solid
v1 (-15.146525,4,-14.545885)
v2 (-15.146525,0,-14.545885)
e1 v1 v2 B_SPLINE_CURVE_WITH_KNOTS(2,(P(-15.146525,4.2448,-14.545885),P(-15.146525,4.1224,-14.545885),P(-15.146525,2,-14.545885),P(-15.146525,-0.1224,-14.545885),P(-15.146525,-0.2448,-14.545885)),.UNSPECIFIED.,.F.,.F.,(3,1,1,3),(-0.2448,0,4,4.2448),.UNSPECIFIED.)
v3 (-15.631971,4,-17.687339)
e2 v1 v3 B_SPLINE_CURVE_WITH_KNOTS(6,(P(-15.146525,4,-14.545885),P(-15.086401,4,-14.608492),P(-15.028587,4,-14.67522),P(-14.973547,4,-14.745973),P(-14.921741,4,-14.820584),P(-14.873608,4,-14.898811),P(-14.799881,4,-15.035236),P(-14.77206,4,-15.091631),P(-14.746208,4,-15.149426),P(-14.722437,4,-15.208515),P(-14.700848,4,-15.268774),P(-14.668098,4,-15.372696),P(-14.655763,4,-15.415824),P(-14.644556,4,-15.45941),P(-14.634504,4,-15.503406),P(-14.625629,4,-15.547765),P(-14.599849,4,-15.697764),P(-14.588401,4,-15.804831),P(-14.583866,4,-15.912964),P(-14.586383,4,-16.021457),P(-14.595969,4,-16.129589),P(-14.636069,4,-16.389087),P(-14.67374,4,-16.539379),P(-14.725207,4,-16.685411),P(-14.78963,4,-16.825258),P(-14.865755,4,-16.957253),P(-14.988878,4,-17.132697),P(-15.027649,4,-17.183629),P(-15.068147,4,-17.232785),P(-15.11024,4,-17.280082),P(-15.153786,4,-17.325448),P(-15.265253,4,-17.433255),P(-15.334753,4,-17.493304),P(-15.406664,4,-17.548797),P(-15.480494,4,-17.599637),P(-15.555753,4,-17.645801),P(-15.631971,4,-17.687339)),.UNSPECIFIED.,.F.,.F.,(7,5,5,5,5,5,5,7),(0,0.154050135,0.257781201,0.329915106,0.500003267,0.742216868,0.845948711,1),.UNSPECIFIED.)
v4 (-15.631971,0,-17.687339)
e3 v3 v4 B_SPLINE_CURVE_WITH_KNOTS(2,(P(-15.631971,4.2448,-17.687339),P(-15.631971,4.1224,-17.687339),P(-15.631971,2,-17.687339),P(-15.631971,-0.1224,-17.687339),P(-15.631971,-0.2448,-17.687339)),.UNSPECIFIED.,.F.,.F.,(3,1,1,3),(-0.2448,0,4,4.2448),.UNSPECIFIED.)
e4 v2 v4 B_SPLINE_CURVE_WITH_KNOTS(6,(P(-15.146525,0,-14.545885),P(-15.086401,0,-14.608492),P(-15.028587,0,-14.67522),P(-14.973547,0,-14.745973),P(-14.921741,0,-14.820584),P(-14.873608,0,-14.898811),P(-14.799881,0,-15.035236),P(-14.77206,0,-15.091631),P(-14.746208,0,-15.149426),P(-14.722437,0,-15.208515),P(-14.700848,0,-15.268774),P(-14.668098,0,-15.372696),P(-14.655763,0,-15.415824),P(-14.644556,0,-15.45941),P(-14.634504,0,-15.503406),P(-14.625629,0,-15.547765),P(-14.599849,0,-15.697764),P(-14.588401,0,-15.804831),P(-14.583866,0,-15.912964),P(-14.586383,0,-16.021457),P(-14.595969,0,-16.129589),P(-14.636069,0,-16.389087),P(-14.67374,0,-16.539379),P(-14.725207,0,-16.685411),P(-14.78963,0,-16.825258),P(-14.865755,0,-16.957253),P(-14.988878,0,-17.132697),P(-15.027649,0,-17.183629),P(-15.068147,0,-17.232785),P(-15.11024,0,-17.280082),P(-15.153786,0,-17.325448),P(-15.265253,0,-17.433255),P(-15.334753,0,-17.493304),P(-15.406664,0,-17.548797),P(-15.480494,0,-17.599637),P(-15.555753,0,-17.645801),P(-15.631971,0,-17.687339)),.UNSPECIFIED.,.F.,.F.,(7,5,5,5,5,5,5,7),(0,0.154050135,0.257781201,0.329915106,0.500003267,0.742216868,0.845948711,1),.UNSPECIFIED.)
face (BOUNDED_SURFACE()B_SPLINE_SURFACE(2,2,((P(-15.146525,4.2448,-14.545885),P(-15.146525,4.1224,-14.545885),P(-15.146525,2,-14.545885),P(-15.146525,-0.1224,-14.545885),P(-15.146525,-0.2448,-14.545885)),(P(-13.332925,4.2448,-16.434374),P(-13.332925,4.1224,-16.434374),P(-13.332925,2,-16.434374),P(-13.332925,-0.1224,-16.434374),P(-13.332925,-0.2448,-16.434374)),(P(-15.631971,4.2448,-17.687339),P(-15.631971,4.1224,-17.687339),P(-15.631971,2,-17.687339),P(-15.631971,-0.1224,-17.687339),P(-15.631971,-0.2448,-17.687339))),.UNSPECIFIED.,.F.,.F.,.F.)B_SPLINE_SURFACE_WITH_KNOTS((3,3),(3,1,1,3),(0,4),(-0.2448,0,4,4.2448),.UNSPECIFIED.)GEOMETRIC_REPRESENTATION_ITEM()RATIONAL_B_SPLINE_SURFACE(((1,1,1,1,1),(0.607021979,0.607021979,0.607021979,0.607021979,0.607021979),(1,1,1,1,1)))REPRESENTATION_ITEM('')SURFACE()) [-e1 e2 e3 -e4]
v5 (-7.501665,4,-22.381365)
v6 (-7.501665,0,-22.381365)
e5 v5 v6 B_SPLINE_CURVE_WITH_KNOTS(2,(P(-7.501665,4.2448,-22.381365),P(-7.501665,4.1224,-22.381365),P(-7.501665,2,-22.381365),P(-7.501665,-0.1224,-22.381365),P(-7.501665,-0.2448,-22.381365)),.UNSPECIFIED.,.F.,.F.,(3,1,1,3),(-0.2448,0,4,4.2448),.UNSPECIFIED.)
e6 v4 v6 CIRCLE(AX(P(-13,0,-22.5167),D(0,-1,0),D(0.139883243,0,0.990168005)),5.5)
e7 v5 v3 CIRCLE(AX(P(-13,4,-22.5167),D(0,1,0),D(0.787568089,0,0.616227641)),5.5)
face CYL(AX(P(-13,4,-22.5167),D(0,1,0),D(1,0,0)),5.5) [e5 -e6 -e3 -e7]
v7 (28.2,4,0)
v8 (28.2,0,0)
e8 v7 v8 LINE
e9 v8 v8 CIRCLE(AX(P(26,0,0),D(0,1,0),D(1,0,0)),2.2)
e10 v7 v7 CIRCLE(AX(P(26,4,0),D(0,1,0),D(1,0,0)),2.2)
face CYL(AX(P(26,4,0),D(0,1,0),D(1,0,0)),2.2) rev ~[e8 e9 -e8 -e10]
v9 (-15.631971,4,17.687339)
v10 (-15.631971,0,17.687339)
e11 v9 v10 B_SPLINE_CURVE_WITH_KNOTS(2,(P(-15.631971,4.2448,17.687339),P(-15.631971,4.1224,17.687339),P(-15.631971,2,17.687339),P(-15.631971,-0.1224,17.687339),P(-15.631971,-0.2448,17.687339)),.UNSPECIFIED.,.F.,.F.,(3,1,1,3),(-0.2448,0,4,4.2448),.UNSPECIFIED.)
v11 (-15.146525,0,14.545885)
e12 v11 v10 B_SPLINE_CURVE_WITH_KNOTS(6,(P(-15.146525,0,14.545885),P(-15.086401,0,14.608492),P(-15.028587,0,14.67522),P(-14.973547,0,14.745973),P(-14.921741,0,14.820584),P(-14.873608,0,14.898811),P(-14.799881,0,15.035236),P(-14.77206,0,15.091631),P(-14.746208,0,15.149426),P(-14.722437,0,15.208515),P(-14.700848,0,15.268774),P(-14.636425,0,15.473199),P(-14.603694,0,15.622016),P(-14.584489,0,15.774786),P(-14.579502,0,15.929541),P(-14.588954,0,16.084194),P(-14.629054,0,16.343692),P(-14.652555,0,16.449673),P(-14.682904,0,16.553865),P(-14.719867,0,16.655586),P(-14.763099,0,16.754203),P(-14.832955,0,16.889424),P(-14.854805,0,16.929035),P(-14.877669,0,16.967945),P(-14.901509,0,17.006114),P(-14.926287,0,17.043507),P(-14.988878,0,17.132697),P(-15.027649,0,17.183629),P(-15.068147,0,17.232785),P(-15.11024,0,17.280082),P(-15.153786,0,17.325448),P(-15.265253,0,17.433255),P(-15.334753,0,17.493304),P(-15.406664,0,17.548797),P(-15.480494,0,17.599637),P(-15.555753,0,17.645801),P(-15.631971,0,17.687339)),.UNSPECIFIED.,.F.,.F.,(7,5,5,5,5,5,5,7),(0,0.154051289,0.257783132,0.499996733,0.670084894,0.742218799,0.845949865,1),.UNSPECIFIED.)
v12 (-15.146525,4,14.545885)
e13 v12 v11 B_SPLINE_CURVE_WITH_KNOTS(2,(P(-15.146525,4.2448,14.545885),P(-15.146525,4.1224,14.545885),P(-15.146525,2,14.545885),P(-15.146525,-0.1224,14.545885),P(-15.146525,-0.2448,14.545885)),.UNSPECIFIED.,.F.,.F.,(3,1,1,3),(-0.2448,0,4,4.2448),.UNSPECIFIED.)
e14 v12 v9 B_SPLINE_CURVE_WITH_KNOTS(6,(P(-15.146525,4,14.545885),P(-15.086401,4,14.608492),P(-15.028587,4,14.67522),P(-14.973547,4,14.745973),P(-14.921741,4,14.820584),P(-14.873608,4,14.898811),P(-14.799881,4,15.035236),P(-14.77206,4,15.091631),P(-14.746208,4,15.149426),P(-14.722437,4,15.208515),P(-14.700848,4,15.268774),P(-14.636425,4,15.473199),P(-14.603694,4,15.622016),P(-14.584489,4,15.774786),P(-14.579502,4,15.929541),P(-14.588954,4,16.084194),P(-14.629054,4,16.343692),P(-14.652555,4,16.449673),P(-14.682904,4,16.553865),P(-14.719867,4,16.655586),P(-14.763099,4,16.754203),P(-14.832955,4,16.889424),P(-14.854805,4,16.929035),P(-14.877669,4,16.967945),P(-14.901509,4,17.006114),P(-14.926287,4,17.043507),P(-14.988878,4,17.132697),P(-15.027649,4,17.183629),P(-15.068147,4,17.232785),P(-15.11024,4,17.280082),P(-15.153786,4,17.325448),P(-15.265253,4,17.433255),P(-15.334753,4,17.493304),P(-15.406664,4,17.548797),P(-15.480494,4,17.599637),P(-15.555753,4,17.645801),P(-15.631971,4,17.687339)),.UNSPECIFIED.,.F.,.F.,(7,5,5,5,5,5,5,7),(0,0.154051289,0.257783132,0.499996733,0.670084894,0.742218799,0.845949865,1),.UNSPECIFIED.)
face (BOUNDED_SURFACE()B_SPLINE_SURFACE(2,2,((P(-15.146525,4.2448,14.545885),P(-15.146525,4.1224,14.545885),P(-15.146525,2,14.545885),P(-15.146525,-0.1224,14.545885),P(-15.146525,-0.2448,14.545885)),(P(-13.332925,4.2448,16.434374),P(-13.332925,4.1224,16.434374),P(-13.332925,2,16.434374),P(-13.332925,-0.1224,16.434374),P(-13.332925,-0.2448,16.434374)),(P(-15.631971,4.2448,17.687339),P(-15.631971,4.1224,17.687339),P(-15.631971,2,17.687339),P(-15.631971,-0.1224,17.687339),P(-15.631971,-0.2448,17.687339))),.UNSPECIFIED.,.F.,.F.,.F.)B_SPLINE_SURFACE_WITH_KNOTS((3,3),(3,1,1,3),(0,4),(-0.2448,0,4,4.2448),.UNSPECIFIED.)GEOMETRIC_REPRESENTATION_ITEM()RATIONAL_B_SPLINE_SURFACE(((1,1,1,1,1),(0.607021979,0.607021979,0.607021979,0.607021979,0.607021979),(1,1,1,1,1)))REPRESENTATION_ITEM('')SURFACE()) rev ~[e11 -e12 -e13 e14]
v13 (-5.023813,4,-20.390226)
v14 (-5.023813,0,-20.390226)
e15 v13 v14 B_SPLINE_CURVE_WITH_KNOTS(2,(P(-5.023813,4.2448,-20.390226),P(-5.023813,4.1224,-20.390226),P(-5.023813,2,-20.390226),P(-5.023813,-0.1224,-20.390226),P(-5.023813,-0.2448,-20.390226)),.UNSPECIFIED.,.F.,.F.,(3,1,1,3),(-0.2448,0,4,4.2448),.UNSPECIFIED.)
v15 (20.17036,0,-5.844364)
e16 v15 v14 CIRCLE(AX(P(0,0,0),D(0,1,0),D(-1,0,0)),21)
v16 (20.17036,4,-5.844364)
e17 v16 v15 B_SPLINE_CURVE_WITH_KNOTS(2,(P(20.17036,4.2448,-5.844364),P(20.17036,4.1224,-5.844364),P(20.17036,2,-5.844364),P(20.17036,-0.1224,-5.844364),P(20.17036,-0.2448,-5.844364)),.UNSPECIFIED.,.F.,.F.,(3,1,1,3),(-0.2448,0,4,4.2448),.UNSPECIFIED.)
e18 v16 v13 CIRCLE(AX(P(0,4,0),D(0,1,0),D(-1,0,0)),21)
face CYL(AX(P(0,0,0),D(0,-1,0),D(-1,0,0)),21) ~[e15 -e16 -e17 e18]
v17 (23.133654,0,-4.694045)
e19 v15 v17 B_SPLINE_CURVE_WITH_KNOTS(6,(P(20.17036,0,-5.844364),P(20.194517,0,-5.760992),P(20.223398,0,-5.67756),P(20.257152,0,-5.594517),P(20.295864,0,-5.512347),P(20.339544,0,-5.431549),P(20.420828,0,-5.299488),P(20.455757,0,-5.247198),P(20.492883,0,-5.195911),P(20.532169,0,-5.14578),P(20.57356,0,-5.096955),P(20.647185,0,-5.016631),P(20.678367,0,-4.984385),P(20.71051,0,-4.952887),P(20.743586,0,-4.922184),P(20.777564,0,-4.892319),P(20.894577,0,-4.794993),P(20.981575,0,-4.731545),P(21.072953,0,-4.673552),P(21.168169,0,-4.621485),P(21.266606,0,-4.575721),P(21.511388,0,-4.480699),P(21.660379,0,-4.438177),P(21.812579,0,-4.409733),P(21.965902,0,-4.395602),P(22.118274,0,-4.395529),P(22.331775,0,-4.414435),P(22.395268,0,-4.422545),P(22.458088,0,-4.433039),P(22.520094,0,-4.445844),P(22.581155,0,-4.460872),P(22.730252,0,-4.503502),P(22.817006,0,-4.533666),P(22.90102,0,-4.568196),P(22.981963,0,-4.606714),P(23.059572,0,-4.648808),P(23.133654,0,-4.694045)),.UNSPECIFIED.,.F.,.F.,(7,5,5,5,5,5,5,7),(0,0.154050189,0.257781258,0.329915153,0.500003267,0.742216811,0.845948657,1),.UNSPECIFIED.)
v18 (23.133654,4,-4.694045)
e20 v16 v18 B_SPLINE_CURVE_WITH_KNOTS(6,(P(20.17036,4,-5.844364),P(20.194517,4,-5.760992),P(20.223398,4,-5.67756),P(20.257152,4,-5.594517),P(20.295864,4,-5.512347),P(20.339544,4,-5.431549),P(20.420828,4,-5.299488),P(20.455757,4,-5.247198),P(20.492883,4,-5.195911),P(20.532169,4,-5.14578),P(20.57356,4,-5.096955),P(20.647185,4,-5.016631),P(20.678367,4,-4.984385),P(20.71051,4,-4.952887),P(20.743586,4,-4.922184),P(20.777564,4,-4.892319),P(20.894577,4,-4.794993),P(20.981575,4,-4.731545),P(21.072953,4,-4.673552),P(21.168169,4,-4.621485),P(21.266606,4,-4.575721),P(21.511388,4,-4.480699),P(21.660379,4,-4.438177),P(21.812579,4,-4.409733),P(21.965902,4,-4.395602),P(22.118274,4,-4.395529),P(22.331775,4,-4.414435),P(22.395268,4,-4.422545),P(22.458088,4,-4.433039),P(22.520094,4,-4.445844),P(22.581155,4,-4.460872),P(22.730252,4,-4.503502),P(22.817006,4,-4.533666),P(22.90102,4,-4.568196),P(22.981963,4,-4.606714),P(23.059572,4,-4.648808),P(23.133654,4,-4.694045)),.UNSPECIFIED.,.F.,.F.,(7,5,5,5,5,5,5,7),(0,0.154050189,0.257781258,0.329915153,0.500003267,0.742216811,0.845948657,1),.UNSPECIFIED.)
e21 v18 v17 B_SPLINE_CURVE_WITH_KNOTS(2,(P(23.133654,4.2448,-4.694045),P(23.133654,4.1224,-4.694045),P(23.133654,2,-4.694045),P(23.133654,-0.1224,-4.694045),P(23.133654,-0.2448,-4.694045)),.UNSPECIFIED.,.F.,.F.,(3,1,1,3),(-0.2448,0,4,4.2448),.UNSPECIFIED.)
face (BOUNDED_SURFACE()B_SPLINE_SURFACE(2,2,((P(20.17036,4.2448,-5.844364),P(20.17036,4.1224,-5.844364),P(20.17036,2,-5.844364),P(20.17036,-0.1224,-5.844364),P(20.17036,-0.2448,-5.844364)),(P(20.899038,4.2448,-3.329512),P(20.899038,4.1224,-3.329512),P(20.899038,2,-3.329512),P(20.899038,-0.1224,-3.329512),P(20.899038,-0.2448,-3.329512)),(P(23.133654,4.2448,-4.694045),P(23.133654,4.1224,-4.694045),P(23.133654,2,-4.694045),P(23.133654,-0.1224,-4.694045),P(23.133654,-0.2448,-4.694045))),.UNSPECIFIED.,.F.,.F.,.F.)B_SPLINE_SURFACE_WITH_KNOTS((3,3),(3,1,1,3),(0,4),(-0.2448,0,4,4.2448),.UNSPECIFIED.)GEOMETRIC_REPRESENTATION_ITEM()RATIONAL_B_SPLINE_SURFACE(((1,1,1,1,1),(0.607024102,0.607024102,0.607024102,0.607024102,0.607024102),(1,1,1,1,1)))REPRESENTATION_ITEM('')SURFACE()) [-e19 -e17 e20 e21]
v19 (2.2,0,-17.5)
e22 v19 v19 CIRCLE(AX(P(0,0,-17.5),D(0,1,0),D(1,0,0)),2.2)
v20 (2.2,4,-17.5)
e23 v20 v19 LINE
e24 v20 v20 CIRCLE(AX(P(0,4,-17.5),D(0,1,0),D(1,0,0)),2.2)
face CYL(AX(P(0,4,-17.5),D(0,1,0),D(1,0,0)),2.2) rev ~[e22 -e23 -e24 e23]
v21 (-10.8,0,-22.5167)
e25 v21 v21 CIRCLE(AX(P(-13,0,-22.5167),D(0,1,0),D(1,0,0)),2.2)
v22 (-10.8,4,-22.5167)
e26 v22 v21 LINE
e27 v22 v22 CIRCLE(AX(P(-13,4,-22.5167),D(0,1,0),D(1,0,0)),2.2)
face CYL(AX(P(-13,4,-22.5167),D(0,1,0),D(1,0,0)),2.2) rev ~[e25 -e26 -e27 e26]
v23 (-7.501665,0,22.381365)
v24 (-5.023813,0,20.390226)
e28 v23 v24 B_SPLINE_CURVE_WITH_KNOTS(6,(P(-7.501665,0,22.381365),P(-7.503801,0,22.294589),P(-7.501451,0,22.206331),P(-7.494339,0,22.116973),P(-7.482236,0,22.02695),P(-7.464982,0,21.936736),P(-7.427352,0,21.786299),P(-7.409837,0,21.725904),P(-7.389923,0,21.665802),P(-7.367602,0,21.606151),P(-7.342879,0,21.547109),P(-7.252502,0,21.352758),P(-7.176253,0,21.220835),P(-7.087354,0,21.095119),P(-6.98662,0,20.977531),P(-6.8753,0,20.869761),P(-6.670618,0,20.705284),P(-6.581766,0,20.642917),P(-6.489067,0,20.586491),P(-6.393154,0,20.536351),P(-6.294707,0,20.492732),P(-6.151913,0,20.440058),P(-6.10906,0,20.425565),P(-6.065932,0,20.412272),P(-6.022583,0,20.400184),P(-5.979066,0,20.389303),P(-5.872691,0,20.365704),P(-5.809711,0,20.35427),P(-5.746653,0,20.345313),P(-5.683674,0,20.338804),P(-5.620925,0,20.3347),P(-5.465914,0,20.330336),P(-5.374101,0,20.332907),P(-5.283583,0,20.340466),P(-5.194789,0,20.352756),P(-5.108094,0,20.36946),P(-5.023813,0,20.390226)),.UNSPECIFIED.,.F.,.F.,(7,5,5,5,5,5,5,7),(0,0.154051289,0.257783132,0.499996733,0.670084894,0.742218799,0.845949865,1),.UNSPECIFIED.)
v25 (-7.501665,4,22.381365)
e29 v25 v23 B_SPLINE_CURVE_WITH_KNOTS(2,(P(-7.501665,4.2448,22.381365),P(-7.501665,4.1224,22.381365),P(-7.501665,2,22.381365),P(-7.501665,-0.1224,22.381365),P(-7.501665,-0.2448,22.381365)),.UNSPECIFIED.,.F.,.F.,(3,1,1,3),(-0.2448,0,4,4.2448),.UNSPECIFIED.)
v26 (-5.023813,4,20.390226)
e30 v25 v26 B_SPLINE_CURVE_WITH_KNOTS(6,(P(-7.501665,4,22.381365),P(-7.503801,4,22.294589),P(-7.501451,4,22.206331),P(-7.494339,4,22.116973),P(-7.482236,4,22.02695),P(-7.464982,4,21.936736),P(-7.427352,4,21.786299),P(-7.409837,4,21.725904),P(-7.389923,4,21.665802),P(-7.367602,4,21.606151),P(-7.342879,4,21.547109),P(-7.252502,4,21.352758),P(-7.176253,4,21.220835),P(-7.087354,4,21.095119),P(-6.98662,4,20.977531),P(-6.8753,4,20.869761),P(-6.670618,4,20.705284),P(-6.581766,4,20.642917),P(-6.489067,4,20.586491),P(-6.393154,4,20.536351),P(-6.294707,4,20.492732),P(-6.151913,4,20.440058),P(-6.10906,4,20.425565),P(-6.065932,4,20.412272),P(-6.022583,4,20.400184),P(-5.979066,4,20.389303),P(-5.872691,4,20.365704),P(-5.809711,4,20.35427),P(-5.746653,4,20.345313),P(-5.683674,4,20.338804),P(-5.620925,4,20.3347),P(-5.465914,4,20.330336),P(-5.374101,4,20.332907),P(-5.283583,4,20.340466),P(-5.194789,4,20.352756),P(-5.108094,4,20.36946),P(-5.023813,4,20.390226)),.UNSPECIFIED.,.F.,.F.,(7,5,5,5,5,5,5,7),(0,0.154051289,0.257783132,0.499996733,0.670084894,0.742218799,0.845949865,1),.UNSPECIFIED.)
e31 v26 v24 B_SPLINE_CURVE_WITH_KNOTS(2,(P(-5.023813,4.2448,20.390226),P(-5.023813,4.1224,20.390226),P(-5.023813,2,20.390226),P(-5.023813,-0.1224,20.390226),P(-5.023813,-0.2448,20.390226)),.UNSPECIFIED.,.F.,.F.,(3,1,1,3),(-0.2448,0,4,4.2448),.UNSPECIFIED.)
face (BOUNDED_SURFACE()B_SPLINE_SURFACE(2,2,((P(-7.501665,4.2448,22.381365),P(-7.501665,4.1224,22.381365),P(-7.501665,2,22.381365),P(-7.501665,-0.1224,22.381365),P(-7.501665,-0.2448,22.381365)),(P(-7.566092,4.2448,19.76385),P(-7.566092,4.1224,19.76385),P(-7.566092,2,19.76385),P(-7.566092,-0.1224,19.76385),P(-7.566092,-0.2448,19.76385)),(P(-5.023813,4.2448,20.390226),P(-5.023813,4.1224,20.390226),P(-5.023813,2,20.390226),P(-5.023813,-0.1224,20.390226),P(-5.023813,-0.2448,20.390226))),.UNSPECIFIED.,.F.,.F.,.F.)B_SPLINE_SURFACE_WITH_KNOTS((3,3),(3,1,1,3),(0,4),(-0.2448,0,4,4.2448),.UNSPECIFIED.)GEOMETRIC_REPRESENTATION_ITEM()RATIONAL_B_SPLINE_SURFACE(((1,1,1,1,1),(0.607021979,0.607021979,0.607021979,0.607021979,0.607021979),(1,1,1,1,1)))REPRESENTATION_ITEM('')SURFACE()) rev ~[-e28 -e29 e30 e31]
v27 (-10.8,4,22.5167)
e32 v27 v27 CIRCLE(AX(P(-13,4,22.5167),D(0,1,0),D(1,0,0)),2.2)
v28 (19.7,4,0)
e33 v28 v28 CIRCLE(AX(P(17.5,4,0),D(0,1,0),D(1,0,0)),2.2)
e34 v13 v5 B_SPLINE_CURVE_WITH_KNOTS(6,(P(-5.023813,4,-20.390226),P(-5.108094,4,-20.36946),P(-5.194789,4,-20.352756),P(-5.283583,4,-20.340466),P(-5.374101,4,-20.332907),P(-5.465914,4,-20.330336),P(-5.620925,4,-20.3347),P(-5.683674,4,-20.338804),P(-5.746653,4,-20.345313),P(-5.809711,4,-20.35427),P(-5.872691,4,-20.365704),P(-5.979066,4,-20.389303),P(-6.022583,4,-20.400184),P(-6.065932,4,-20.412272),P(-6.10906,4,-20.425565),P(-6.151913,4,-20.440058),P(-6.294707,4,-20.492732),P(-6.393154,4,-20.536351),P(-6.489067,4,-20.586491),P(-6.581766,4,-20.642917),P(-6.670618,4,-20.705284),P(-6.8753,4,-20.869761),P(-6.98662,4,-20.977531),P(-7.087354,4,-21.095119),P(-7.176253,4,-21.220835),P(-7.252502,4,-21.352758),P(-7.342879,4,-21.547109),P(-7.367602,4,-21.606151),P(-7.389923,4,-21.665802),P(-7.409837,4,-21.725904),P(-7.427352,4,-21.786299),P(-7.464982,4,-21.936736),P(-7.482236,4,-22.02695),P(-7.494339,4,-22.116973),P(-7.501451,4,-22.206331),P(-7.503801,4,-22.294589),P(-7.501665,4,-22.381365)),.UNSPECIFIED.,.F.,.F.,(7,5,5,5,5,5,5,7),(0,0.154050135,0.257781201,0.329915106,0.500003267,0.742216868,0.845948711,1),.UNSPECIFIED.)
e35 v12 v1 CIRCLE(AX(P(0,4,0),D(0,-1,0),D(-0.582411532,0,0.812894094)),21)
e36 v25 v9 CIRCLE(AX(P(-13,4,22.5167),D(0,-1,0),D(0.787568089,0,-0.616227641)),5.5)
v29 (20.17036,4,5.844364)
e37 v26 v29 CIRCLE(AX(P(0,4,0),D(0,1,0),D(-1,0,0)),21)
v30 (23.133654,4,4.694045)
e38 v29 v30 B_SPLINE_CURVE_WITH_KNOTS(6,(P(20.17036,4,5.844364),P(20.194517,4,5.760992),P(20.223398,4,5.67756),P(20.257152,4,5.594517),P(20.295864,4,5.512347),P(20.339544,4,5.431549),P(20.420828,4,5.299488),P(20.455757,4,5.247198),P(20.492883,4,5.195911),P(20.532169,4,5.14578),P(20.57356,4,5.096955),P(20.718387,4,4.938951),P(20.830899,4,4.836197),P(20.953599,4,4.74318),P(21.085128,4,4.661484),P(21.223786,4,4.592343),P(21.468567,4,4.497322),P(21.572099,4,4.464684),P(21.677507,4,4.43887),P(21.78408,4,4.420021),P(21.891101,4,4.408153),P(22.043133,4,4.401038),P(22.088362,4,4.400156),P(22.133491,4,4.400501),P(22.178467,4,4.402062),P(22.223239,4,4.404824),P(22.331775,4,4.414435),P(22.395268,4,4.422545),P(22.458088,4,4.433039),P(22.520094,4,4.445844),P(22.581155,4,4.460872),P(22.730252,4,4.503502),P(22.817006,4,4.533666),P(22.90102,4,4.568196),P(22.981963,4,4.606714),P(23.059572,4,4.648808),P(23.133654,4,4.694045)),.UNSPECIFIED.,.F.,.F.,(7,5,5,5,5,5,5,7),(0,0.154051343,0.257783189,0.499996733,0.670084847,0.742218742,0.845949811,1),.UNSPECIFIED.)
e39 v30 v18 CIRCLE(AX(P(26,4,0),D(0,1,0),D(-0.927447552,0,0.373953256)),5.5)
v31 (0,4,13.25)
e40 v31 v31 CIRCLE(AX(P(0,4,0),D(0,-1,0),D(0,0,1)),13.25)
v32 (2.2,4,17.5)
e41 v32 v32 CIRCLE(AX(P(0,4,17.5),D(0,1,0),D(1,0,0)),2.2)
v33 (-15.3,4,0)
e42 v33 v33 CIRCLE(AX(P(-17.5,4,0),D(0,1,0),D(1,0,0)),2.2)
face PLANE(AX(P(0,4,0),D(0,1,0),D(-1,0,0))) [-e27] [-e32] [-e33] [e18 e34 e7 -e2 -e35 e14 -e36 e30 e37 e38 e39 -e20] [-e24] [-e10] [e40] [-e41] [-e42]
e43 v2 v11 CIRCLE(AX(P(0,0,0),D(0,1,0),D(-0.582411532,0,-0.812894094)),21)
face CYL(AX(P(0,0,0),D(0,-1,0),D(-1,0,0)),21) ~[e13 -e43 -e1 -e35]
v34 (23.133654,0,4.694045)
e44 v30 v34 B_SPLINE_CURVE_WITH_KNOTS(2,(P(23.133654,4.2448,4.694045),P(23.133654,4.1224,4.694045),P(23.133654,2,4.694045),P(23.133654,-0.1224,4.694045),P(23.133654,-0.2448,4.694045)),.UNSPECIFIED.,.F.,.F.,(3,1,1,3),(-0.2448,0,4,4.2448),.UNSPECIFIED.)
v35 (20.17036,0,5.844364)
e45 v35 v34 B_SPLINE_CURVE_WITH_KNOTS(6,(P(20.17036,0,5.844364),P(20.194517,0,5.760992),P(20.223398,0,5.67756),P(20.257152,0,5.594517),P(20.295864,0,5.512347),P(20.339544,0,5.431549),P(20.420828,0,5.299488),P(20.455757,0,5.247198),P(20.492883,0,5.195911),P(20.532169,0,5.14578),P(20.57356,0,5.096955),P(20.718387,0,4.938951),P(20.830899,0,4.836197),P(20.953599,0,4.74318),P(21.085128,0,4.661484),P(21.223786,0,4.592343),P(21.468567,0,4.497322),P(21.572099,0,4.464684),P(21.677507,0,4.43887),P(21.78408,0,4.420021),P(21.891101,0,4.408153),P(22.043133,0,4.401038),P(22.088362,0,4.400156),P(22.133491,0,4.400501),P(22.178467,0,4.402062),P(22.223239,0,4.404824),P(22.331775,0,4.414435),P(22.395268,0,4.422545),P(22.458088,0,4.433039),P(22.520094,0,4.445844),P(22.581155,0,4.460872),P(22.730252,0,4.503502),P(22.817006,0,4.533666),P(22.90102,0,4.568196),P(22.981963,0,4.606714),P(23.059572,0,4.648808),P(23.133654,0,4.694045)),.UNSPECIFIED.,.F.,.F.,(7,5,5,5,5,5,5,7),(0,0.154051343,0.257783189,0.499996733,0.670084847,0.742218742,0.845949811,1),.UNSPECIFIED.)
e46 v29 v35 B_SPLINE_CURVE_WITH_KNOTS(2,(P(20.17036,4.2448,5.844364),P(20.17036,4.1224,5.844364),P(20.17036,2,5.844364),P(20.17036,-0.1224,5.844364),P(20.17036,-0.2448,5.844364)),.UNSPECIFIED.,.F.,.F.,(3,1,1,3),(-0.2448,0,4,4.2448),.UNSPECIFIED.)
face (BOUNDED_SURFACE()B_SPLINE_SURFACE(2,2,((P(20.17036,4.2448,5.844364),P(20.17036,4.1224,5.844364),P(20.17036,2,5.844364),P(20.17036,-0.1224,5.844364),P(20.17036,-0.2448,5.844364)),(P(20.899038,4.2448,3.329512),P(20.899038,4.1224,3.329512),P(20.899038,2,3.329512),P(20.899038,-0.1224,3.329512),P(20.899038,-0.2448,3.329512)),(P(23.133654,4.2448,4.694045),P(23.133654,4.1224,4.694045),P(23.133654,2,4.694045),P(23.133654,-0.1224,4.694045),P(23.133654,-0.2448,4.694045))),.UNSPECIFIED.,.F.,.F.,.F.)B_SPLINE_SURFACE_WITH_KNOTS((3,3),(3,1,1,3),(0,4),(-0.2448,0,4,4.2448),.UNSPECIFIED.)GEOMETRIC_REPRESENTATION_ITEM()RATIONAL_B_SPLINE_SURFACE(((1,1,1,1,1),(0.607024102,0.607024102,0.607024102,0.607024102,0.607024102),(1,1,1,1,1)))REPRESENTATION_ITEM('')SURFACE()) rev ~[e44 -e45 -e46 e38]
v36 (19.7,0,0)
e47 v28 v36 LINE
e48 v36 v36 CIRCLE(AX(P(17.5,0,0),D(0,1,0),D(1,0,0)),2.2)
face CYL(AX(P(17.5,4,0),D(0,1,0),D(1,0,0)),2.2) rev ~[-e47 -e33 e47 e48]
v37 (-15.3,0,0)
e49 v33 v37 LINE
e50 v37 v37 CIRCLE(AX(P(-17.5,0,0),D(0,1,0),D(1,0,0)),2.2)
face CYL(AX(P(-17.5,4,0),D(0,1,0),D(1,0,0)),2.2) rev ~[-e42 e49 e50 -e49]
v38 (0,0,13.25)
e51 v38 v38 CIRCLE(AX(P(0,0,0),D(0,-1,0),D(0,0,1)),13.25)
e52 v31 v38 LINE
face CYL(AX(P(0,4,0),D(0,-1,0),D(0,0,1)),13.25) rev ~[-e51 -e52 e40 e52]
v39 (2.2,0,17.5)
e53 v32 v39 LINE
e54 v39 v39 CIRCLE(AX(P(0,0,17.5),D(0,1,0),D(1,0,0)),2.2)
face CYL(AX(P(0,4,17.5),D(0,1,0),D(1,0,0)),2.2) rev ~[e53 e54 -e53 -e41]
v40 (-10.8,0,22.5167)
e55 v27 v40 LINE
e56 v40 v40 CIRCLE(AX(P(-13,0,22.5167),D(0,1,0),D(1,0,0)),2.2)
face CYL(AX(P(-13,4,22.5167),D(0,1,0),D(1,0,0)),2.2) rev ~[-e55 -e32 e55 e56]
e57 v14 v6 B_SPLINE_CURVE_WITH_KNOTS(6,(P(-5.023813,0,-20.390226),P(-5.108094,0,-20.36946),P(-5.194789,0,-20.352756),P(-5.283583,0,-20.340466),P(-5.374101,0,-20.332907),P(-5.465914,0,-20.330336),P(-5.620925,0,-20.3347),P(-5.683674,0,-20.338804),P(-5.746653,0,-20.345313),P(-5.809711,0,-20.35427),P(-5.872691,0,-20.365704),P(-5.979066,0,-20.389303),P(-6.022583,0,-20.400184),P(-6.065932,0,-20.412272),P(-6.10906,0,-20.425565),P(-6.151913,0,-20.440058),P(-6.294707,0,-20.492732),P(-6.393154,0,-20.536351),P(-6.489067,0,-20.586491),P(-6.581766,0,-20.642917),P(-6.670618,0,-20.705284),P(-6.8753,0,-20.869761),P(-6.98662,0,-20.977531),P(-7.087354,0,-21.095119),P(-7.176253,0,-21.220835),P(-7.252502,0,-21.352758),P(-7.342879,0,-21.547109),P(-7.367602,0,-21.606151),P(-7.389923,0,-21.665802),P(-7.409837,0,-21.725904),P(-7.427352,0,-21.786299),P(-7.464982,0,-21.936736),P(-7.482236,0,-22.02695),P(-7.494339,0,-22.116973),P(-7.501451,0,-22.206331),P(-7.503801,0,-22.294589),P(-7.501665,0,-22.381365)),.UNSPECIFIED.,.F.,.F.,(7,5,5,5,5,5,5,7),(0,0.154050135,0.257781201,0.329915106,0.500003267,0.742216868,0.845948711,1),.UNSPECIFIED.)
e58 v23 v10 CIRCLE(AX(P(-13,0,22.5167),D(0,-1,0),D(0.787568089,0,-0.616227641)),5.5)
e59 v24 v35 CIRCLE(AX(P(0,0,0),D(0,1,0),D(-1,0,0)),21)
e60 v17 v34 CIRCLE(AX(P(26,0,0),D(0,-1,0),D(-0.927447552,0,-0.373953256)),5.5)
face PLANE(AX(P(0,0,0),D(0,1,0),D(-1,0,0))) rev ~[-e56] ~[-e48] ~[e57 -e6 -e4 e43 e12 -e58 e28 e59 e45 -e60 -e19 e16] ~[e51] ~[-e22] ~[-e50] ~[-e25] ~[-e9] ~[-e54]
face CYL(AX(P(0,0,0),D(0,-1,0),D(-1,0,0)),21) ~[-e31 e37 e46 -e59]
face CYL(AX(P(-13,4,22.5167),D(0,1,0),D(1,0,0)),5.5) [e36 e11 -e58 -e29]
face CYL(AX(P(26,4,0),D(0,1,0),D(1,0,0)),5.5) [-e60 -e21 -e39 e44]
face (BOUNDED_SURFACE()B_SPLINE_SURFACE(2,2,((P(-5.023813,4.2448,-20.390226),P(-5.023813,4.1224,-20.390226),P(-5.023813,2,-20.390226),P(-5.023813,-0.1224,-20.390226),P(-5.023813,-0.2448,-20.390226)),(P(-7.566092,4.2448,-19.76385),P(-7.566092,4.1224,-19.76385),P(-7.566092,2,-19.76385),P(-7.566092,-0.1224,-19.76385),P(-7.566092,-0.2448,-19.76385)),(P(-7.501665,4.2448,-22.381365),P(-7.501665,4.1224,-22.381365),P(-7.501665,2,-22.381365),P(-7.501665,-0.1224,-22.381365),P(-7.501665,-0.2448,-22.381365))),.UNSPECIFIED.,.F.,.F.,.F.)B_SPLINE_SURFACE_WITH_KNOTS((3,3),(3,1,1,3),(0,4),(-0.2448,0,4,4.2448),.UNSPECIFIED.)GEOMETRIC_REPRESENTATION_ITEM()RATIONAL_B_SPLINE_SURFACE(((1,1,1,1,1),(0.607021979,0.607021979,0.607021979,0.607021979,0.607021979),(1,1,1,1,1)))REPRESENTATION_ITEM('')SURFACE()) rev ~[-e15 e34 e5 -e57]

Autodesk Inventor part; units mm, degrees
ref_plane "YZ Plane" through (0, 0, 0) normal (1, 0, 0) x (0, 1, 0)
ref_plane "XZ Plane" through (0, 0, 0) normal (0, 1, 0) x (-1, 0, 0)
ref_plane "XY Plane" through (0, 0, 0) normal (0, 0, 1) x (1, 0, 0)
sketch "Sketch1" plane through (0, 0, 0) normal (0, 1, 0) x (-1, 0, 0)
  circle A0 centre (0, 0) radius 21
  dimension "d0" = 42
extrude "Extrusion1" add sketch "Sketch1" along normal blind 4
sketch "Sketch2" plane through (0, 4, 0) normal (0, 1, 0) x (1, 0, 0)
  circle A0 centre (0, 0) radius 21 projected
hole "Hole1" at (0, 4, 0) direction (0, -1, 0) diameter 26.5 end through all
sketch "Sketch3" plane through (0, 4, 0) normal (0, 1, 0) x (1, 0, 0)
  circle A0 centre (26, 0) radius 2.2
  line L0 (26, 0) -> (0, 0) construction
  circle A1 centre (26, 0) radius 5.5
  circle A2 centre (0, 0) radius 21 projected
  circle A3 centre (-13, 22.5167) radius 2.2
  circle A4 centre (-13, 22.5167) radius 5.5
  circle A5 centre (-13, -22.5167) radius 2.2
  circle A6 centre (-13, -22.5167) radius 5.5
  dimension "d10" = 4.4
  dimension "d11" = 11
  dimension "d14" = 360
  dimension "d19" = 26
extrude "Extrusion2" add sketch "Sketch3" against normal blind 4 contours A1 A2 | A2 A1 | A4 A2 | A2 A4 | A6 A2 | A2 A6
fillet "Fillet1" radius 2 6 edges at (20.899, 2, -2.0567) (20.899, 2, 2.0567) (-12.2307, 2, 17.0707) (-8.6683, 2, 19.1275) (-12.2307, 2, -17.0707) (-8.6683, 2, -19.1275)
sketch "Sketch4" plane through (0, 4, 0) normal (0, 1, 0) x (1, 0, 0)
  circle A0 centre (-17.5, 0) radius 2.2
  line L0 (-17.5, 0) -> (0, 0) construction
  circle A1 centre (0, -17.5) radius 2.2
  circle A2 centre (17.5, 0) radius 2.2
  circle A3 centre (0, 17.5) radius 2.2
  dimension "d20" = 4.4
  dimension "d22" = 17.5
  dimension "d25" = 360
extrude "Extrusion3" cut sketch "Sketch4" against normal blind 4
properties part number "775 Mounting plate" material "Aluminum 6061"
